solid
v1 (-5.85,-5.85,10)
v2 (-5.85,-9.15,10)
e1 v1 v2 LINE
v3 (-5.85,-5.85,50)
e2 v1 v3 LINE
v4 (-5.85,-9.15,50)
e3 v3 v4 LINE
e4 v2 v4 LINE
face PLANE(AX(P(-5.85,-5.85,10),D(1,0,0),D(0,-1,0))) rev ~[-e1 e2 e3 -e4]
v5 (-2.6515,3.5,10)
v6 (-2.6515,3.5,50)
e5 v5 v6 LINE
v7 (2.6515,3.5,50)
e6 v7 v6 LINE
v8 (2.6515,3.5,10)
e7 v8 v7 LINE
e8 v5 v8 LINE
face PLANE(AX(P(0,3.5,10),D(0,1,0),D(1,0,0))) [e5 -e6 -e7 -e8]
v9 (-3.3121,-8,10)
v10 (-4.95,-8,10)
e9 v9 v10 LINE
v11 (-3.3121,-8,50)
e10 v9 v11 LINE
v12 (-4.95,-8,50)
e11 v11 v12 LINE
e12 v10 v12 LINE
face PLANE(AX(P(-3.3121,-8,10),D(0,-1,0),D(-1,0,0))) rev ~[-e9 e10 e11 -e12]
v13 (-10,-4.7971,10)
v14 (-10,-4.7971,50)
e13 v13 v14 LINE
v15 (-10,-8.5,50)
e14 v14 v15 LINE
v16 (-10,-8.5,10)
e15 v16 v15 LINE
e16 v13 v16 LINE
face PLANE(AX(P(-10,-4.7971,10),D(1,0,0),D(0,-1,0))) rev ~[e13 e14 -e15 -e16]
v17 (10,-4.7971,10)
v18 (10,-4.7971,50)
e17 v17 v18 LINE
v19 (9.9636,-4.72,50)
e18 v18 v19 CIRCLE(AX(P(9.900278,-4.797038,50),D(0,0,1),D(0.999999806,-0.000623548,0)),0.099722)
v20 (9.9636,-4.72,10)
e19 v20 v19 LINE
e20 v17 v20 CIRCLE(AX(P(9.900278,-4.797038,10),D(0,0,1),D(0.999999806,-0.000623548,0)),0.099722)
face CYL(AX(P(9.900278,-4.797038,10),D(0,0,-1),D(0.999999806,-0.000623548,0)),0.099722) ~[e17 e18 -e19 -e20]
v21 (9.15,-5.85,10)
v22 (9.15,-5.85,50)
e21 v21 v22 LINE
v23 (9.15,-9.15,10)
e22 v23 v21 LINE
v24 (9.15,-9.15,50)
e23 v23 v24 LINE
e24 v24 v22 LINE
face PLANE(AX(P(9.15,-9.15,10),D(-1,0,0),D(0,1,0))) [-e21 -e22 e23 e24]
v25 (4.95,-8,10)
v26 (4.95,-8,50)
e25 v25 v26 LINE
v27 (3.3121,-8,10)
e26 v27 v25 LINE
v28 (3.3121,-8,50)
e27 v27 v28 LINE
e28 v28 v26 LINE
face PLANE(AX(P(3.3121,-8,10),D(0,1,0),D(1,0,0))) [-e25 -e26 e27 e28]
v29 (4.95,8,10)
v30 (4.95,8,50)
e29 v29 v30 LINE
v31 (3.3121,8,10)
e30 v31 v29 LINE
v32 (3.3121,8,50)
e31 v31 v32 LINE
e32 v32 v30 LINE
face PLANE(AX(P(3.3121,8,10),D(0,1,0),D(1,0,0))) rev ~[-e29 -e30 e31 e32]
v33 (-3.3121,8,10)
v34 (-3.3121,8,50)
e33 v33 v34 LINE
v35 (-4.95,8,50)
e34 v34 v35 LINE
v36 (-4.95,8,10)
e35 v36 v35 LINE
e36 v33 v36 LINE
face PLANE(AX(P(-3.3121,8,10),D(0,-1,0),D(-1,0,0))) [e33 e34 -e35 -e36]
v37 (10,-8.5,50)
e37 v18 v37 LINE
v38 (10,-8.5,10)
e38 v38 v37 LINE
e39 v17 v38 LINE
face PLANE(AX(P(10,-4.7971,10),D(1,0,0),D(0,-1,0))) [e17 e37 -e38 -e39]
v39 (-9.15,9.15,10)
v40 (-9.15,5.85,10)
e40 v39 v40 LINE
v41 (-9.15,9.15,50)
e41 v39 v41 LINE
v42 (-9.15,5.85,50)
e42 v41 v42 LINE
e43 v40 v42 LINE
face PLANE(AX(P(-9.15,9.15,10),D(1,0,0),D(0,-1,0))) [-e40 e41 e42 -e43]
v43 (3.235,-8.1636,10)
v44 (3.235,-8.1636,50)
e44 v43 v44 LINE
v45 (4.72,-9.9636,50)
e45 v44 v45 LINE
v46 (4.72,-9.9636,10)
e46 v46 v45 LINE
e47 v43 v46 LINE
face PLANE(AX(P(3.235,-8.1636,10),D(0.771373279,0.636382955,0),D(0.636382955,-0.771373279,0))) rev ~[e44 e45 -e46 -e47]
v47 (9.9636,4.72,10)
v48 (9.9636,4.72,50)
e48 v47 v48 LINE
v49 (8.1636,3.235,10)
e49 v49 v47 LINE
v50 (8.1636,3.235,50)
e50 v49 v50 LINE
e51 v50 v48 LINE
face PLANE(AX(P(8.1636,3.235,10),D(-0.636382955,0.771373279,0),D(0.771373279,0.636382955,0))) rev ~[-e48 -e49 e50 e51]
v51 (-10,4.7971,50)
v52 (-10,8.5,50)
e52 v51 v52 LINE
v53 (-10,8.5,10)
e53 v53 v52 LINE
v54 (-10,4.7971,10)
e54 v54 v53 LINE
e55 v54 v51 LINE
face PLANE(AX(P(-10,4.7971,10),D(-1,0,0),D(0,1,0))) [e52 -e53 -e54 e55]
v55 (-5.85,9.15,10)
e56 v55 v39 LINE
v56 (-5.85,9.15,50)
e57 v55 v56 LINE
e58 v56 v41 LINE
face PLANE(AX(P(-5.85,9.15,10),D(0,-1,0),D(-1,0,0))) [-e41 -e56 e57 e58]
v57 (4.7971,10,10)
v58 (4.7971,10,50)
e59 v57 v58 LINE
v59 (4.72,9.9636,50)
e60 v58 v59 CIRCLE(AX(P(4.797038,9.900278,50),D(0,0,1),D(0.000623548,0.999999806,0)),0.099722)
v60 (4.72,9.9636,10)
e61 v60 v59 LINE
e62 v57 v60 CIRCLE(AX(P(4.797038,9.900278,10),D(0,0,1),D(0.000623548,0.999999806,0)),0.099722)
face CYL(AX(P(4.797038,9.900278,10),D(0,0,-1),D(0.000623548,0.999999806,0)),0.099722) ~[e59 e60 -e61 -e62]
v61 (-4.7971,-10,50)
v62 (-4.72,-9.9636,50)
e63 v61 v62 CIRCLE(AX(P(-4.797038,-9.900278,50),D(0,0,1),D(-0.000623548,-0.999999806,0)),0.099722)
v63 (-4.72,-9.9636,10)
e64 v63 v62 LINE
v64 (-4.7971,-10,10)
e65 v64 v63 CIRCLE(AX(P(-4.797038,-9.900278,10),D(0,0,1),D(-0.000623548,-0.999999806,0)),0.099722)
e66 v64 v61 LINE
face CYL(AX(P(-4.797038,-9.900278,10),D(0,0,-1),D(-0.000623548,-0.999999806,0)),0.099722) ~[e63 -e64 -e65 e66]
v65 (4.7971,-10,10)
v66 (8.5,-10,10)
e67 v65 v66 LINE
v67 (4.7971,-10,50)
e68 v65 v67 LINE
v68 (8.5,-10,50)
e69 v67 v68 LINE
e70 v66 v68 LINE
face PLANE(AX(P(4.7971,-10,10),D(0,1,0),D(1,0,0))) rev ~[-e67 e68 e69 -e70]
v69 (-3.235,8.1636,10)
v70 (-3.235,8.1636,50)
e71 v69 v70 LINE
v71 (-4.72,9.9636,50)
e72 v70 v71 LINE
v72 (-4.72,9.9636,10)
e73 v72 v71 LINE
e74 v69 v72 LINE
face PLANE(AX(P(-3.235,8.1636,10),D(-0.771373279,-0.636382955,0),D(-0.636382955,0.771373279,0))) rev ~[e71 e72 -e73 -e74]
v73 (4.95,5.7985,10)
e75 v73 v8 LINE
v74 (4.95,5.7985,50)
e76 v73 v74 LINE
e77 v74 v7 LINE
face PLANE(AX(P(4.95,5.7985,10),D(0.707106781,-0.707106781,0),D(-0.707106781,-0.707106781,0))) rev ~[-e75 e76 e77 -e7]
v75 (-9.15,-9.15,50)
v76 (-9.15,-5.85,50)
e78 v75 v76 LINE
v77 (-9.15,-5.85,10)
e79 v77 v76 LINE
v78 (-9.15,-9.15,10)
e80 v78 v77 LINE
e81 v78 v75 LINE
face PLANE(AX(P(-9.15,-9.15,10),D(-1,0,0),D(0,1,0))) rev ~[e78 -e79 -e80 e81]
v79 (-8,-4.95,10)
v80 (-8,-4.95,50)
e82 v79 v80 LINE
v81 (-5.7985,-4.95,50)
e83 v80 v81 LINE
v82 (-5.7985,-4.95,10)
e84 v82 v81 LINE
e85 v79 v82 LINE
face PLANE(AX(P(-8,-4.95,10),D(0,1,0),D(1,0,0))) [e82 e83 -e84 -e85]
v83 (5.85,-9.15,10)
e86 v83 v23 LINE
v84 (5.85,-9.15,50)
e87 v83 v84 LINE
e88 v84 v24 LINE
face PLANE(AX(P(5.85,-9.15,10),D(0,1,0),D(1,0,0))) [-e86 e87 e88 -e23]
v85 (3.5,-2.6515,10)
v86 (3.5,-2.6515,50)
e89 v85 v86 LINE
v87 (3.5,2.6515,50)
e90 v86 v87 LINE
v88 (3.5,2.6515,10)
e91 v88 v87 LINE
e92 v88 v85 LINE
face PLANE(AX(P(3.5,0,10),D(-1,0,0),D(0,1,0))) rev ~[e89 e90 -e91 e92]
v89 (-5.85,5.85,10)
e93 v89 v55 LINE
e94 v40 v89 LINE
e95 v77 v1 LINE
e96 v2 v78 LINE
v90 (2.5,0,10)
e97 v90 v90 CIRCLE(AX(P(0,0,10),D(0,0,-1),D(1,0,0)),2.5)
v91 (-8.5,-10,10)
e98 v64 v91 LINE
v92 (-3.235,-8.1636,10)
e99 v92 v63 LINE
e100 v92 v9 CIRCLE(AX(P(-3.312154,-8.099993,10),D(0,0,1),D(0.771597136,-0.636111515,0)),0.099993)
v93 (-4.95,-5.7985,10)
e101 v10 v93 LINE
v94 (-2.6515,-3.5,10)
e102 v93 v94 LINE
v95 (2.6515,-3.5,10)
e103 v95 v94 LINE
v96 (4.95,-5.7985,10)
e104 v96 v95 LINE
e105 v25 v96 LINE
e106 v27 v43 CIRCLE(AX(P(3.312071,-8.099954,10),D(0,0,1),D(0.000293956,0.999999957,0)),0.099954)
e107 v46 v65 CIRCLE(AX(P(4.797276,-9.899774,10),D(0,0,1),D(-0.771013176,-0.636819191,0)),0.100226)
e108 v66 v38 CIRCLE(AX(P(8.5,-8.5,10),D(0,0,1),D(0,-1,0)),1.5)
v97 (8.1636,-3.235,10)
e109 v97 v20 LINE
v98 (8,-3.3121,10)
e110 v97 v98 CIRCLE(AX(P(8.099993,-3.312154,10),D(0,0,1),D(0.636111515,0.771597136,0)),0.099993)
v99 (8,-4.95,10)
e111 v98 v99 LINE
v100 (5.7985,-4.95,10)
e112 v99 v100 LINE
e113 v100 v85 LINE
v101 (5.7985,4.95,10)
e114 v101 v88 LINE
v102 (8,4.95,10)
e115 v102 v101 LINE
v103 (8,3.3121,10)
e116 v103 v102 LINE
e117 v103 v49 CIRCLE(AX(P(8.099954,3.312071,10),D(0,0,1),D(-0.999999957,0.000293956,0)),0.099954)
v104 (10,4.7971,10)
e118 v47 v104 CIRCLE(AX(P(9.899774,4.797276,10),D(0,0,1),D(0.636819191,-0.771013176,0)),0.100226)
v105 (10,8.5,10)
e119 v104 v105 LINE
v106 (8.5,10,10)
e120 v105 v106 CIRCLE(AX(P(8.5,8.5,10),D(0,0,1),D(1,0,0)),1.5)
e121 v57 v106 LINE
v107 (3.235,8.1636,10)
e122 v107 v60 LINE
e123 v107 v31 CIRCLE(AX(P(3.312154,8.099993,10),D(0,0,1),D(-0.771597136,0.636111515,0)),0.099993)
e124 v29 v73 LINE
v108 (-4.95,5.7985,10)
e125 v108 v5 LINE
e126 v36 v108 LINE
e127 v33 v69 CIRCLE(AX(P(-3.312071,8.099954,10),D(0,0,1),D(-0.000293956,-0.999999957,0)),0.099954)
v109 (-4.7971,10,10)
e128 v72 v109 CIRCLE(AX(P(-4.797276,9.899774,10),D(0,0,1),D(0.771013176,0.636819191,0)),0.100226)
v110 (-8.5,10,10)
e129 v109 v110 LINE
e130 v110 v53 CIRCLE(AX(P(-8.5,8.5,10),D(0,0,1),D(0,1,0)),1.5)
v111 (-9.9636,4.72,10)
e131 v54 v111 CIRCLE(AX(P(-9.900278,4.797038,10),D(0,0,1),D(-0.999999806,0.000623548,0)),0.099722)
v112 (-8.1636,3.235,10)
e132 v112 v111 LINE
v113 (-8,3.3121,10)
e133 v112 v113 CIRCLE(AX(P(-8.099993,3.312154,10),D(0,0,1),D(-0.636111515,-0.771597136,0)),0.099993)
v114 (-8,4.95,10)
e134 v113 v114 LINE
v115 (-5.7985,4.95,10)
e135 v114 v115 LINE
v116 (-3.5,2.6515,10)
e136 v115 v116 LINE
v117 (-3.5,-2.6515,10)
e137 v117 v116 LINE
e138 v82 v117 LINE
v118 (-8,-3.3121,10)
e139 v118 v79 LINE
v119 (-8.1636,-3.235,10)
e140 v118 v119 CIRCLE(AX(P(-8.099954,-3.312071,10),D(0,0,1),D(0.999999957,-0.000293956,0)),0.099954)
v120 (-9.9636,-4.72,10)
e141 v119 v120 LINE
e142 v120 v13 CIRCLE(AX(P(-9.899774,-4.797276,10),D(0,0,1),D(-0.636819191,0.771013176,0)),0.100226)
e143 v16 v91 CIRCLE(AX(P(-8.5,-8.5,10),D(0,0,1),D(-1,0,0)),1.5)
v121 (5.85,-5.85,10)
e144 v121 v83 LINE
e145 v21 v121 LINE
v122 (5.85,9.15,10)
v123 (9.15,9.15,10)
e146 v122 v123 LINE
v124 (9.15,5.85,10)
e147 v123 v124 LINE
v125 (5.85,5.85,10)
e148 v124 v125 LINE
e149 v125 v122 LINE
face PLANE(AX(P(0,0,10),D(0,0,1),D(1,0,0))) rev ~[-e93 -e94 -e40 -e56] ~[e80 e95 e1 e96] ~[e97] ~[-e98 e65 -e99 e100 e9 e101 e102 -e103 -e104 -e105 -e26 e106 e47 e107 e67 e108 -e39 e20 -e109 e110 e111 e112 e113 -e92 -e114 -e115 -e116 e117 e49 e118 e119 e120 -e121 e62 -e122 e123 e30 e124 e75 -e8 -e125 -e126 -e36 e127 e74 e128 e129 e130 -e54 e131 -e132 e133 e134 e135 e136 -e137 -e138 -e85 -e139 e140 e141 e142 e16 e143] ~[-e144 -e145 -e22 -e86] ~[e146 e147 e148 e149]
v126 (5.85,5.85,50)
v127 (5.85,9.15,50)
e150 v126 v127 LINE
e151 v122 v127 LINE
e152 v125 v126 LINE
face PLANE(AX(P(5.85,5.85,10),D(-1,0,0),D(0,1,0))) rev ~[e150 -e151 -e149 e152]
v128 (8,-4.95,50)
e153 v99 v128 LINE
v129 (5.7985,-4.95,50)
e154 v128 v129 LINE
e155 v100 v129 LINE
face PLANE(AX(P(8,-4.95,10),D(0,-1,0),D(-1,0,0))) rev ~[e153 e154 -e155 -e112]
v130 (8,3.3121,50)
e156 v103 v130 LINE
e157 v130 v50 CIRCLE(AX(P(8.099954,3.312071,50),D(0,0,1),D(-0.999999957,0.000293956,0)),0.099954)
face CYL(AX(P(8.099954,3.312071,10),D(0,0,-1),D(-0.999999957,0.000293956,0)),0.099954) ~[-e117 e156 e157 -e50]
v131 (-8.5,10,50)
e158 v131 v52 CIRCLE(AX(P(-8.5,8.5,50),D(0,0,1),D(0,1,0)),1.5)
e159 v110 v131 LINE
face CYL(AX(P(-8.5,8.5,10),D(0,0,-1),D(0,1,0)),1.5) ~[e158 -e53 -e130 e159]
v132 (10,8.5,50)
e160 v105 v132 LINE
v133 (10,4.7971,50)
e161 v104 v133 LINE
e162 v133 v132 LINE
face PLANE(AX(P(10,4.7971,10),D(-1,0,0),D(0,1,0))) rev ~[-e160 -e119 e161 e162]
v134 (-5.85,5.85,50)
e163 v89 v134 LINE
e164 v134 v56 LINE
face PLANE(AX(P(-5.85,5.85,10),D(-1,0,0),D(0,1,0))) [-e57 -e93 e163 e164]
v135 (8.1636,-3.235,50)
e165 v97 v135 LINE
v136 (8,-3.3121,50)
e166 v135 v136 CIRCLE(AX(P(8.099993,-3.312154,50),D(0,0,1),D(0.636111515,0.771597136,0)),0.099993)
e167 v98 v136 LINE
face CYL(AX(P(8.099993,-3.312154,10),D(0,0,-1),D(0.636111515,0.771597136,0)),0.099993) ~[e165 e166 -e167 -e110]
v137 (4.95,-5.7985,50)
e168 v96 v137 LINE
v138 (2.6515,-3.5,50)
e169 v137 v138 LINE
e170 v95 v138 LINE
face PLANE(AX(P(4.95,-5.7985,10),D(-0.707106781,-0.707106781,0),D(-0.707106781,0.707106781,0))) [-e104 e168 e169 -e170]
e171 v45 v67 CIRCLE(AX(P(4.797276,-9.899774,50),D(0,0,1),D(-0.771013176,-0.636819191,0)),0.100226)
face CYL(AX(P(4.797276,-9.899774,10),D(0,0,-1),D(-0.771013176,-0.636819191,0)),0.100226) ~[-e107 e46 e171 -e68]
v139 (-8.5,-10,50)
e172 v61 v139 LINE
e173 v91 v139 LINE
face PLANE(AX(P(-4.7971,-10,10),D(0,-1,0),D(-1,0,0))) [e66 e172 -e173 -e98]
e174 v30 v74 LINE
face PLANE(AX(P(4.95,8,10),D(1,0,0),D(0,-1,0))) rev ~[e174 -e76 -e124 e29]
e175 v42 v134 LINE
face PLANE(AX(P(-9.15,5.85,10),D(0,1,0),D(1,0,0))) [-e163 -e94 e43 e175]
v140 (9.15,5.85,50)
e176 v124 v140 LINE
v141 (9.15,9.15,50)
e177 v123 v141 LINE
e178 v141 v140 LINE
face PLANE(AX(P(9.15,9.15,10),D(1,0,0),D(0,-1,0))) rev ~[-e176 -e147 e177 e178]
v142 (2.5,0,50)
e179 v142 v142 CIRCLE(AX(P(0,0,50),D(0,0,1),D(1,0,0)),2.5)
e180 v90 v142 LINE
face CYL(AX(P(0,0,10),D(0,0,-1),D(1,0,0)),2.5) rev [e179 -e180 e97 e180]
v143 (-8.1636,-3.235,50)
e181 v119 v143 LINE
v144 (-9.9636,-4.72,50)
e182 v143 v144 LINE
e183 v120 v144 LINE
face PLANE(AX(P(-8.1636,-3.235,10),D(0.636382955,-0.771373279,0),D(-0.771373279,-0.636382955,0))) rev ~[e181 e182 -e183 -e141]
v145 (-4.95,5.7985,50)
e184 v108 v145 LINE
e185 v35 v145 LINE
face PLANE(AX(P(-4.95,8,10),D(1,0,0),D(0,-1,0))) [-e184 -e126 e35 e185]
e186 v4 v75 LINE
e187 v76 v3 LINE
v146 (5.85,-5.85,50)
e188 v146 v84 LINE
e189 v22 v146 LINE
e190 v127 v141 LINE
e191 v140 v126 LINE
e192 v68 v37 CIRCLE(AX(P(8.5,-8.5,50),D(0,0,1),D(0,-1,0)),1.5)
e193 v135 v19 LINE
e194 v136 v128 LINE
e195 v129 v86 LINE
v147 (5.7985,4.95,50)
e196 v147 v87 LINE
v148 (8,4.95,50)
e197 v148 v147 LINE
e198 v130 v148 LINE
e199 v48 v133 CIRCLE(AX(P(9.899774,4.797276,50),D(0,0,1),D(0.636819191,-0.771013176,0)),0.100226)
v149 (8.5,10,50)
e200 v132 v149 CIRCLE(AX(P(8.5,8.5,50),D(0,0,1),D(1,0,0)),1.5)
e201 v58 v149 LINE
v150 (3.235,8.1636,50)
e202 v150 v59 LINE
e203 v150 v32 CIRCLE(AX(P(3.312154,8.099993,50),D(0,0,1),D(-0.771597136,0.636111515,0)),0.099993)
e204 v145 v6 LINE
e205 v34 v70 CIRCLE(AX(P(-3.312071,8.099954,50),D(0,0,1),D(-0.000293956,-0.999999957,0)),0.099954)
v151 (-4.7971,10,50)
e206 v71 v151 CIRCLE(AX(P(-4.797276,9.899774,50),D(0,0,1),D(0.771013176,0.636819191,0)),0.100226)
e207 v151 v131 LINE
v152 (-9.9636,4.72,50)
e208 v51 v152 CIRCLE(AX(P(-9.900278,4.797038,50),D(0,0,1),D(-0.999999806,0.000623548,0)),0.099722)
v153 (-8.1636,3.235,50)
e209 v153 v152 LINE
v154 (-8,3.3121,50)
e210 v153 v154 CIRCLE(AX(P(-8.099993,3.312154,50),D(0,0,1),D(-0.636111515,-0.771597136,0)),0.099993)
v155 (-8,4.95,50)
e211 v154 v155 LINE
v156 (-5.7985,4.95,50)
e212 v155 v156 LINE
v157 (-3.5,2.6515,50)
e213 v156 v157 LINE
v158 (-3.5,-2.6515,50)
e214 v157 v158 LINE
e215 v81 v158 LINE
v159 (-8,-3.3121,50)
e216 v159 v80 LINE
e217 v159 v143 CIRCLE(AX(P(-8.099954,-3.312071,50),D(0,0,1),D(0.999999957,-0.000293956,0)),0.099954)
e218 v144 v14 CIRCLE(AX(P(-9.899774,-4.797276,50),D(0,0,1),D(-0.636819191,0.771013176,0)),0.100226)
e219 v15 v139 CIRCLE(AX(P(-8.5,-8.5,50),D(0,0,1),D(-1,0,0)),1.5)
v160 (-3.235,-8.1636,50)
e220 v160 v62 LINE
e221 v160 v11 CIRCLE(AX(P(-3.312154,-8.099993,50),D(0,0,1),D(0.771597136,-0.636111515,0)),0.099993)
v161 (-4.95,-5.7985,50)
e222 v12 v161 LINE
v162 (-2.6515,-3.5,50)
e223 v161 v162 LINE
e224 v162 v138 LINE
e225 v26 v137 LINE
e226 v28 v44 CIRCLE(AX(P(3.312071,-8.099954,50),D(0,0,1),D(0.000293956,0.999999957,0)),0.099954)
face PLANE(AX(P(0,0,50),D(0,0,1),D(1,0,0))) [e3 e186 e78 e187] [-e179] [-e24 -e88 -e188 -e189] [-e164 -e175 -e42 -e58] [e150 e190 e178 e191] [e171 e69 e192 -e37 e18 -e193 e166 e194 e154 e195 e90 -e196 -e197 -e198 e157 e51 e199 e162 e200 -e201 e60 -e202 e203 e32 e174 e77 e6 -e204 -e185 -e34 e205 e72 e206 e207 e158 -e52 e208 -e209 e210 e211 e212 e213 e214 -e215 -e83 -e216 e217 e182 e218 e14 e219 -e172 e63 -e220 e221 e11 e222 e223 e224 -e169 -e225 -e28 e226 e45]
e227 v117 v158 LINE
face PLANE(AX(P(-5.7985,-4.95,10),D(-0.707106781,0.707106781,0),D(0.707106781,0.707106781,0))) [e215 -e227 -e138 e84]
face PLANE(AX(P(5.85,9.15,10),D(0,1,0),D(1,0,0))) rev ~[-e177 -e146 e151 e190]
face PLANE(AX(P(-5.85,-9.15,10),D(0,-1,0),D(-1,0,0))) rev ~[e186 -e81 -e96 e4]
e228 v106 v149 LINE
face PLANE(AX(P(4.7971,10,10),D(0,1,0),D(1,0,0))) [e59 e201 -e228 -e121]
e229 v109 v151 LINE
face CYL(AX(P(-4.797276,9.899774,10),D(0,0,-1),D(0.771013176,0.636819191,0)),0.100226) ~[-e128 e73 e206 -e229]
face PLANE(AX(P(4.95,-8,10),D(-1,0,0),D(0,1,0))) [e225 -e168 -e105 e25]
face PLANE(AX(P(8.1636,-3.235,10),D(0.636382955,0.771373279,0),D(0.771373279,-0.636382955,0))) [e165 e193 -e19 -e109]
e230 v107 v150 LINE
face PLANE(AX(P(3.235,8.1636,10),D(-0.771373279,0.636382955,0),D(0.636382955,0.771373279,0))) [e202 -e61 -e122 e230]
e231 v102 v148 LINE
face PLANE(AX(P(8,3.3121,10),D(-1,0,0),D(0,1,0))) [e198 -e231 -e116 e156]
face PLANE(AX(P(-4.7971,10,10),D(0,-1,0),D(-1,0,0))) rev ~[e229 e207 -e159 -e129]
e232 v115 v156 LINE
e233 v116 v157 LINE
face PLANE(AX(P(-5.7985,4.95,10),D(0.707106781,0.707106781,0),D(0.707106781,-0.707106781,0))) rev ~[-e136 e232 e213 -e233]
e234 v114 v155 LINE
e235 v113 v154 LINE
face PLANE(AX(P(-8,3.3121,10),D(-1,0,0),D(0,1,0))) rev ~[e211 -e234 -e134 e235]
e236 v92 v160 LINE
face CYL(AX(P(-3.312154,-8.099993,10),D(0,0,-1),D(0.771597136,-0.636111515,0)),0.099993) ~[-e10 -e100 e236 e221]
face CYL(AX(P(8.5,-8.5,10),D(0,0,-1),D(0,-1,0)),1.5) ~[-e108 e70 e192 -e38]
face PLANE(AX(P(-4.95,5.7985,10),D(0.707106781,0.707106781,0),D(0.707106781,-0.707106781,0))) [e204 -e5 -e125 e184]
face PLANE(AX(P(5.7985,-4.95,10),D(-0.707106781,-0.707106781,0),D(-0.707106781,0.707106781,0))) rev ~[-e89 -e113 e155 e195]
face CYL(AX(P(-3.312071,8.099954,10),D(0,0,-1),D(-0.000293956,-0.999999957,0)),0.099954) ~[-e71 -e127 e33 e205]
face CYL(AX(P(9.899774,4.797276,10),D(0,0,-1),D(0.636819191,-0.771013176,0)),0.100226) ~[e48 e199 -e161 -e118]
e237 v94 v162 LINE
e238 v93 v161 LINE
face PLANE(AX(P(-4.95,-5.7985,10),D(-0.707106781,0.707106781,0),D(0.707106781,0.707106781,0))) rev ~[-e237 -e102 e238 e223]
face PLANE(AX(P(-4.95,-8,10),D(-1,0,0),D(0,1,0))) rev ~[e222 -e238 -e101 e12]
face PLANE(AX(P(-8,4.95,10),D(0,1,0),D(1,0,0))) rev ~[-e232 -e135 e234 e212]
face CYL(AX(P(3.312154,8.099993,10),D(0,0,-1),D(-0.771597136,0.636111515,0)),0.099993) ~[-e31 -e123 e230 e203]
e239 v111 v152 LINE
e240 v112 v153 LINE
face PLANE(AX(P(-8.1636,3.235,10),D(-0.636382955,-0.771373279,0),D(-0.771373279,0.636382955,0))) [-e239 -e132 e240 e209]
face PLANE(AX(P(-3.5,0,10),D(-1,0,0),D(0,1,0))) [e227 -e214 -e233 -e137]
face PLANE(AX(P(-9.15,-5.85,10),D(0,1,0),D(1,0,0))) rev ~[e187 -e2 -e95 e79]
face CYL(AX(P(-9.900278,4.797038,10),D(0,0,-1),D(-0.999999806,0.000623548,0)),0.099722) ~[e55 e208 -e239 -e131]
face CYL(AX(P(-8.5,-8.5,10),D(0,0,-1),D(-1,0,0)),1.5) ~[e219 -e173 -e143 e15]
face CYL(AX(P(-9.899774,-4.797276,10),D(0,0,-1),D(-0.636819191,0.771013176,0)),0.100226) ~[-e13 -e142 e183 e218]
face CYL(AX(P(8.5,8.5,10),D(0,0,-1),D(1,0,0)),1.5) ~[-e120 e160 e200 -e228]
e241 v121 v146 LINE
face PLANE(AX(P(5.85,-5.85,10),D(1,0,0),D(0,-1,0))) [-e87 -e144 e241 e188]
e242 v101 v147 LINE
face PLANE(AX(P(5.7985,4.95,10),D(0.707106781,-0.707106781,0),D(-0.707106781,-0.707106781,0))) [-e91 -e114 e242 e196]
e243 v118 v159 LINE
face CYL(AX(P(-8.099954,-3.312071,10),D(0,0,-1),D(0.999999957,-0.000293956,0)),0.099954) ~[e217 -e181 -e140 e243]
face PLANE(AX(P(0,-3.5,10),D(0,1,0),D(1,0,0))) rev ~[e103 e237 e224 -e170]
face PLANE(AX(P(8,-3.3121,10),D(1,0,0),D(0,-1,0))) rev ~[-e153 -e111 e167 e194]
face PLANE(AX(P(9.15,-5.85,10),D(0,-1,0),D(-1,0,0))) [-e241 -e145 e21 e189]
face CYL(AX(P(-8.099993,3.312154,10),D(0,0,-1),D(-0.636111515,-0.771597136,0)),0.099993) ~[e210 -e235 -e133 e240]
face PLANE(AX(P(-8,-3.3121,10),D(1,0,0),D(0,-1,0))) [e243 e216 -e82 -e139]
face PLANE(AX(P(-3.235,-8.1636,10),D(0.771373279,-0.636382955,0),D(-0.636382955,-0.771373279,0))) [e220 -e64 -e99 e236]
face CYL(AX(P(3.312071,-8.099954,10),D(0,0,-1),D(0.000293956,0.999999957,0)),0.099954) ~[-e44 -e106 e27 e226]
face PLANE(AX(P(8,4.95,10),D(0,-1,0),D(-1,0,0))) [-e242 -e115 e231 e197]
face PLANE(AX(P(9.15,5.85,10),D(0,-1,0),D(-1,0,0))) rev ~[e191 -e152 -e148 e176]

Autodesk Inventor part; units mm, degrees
ref_plane "Начальная плоскость" through (0, 0, 10) normal (0, 0, 1) x (1, 0, 0)
ref_plane "Конечная плоскость" through (0, 0, 50) normal (0, 0, 1) x (1, 0, 0)
sketch "Эскиз" plane through (0, 0, 0) normal (0, 0, 1) x (1, 0, 0)
  line L0 (-14.4349, 0) -> (14.4349, 0) projected
  line L1 (0, -14) -> (0, 14) projected
  line L2 (0, 0) -> (7.5, 7.5) construction
  circle A0 centre (7.5, 7.5) radius 1.65 construction
  line L3 (5.85, 9.15) -> (9.15, 9.15)
  line L4 (9.15, 9.15) -> (9.15, 5.85)
  line L5 (9.15, 5.85) -> (5.85, 5.85)
  line L6 (5.85, 5.85) -> (5.85, 9.15)
  line L7 (3.235, 8.1636) -> (4.72, 9.9636)
  line L8 (4.7971, 10) -> (8.5, 10)
  line L9 (3.3121, 8) -> (4.95, 8)
  line L10 (4.95, 8) -> (4.95, 5.7985)
  line L11 (4.95, 5.7985) -> (2.6515, 3.5)
  line L12 (0, 3.5) -> (2.6515, 3.5)
  circle A1 centre (0, 0) radius 2.5
  line L13 (8.1636, 3.235) -> (9.9636, 4.72)
  line L14 (10, 4.7971) -> (10, 8.5)
  line L15 (8, 3.3121) -> (8, 4.95)
  line L16 (8, 4.95) -> (5.7985, 4.95)
  line L17 (5.7985, 4.95) -> (3.5, 2.6515)
  line L18 (3.5, 0) -> (3.5, 2.6515)
  arc A2 (10, 8.5) -> (8.5, 10) centre (8.5, 8.5) ccw
  line L19 (0, 0) -> (-7.5, 7.5) construction
  circle A3 centre (-7.5, 7.5) radius 1.65 construction
  line L20 (-5.85, 9.15) -> (-9.15, 9.15)
  line L21 (-9.15, 9.15) -> (-9.15, 5.85)
  line L22 (-9.15, 5.85) -> (-5.85, 5.85)
  line L23 (-5.85, 5.85) -> (-5.85, 9.15)
  line L24 (-3.235, 8.1636) -> (-4.72, 9.9636)
  line L25 (-4.7971, 10) -> (-8.5, 10)
  line L26 (-3.3121, 8) -> (-4.95, 8)
  line L27 (-4.95, 8) -> (-4.95, 5.7985)
  line L28 (-4.95, 5.7985) -> (-2.6515, 3.5)
  line L29 (0, 3.5) -> (-2.6515, 3.5)
  line L30 (-3.5, 0) -> (-3.5, 2.6515)
  line L31 (-5.7985, 4.95) -> (-3.5, 2.6515)
  line L32 (-8, 4.95) -> (-5.7985, 4.95)
  line L33 (-8, 3.3121) -> (-8, 4.95)
  line L34 (-8.1636, 3.235) -> (-9.9636, 4.72)
  line L35 (-10, 4.7971) -> (-10, 8.5)
  arc A4 (-8.5, 10) -> (-10, 8.5) centre (-8.5, 8.5) ccw
  line L36 (0, 14) -> (0, -14)
  line L37 (0, 0) -> (7.5, -7.5) construction
  circle A5 centre (7.5, -7.5) radius 1.65 construction
  line L38 (5.85, -9.15) -> (9.15, -9.15)
  line L39 (9.15, -9.15) -> (9.15, -5.85)
  line L40 (9.15, -5.85) -> (5.85, -5.85)
  line L41 (5.85, -5.85) -> (5.85, -9.15)
  line L42 (3.235, -8.1636) -> (4.72, -9.9636)
  line L43 (4.7971, -10) -> (8.5, -10)
  line L44 (3.3121, -8) -> (4.95, -8)
  line L45 (4.95, -8) -> (4.95, -5.7985)
  line L46 (4.95, -5.7985) -> (2.6515, -3.5)
  line L47 (0, -3.5) -> (2.6515, -3.5)
  line L48 (3.5, 0) -> (3.5, -2.6515)
  line L49 (5.7985, -4.95) -> (3.5, -2.6515)
  line L50 (8, -4.95) -> (5.7985, -4.95)
  line L51 (8, -3.3121) -> (8, -4.95)
  line L52 (8.1636, -3.235) -> (9.9636, -4.72)
  line L53 (10, -4.7971) -> (10, -8.5)
  arc A6 (8.5, -10) -> (10, -8.5) centre (8.5, -8.5) ccw
  line L54 (0, 0) -> (-7.5, -7.5) construction
  line L55 (-4.95, -8) -> (-4.95, -5.7985)
  line L56 (-3.3121, -8) -> (-4.95, -8)
  line L57 (-5.7985, -4.95) -> (-3.5, -2.6515)
  line L58 (-4.95, -5.7985) -> (-2.6515, -3.5)
  line L59 (-3.5, 0) -> (-3.5, -2.6515)
  line L60 (0, -3.5) -> (-2.6515, -3.5)
  circle A7 centre (-7.5, -7.5) radius 1.65 construction
  line L61 (-5.85, -5.85) -> (-5.85, -9.15)
  line L62 (-5.85, -9.15) -> (-9.15, -9.15)
  line L63 (-9.15, -9.15) -> (-9.15, -5.85)
  line L64 (-9.15, -5.85) -> (-5.85, -5.85)
  line L65 (-3.235, -8.1636) -> (-4.72, -9.9636)
  line L66 (-8, -4.95) -> (-5.7985, -4.95)
  line L67 (-8, -3.3121) -> (-8, -4.95)
  line L68 (-8.1636, -3.235) -> (-9.9636, -4.72)
  line L69 (-4.7971, -10) -> (-8.5, -10)
  line L70 (-10, -4.7971) -> (-10, -8.5)
  arc A8 (-10, -8.5) -> (-8.5, -10) centre (-8.5, -8.5) ccw
  arc A9 (3.235, 8.1636) -> (3.3121, 8) centre (3.3121, 8.1) ccw
  arc A10 (4.7971, 10) -> (4.72, 9.9636) centre (4.7971, 9.9) ccw
  arc A11 (8, 3.3121) -> (8.1636, 3.235) centre (8.1, 3.3121) ccw
  arc A12 (9.9636, 4.72) -> (10, 4.7971) centre (9.9, 4.7971) ccw
  arc A13 (-3.3121, 8) -> (-3.235, 8.1636) centre (-3.3121, 8.1) ccw
  arc A14 (-4.72, 9.9636) -> (-4.7971, 10) centre (-4.7971, 9.9) ccw
  arc A15 (-8.1636, 3.235) -> (-8, 3.3121) centre (-8.1, 3.3121) ccw
  arc A16 (-10, 4.7971) -> (-9.9636, 4.72) centre (-9.9, 4.7971) ccw
  arc A17 (-8, -3.3121) -> (-8.1636, -3.235) centre (-8.1, -3.3121) ccw
  arc A18 (-9.9636, -4.72) -> (-10, -4.7971) centre (-9.9, -4.7971) ccw
  arc A19 (-3.235, -8.1636) -> (-3.3121, -8) centre (-3.3121, -8.1) ccw
  arc A20 (-4.7971, -10) -> (-4.72, -9.9636) centre (-4.7971, -9.9) ccw
  arc A21 (4.72, -9.9636) -> (4.7971, -10) centre (4.7971, -9.9) ccw
  arc A22 (3.3121, -8) -> (3.235, -8.1636) centre (3.3121, -8.1) ccw
  arc A23 (8.1636, -3.235) -> (8, -3.3121) centre (8.1, -3.3121) ccw
  arc A24 (10, -4.7971) -> (9.9636, -4.72) centre (9.9, -4.7971) ccw
  point P0 (3.1, 8)
  point P1 (4.75, 10)
  point P2 (7.5, 9.15)
  point P3 (8, 3.1)
  point P4 (10, 4.75)
  point P5 (7.5, 5.85)
  point P6 (9.15, 7.5)
  point P7 (-3.1, 8)
  point P8 (-4.75, 10)
  point P9 (-7.5, 9.15)
  point P10 (-8, 3.1)
  point P11 (-10, 4.75)
  point P12 (-7.5, 5.85)
  point P13 (-9.15, 7.5)
  point P14 (3.1, -8)
  point P15 (4.75, -10)
  point P16 (7.5, -9.15)
  point P17 (8, -3.1)
  point P18 (10, -4.75)
  point P19 (7.5, -5.85)
  point P20 (9.15, -7.5)
  point P21 (-3.1, -8)
  point P22 (-7.5, -5.85)
  point P23 (-7.5, -9.15)
  point P24 (-9.15, -7.5)
  point P25 (-4.75, -10)
  point P26 (-8, -3.1)
  point P27 (-10, -4.75)
  dimension "d0" = 45
  dimension "d1" = 3.3
  dimension "d2" = 1.5
  dimension "d3" = 1.2
  dimension "d4" = 5
  dimension "d5" = 6.5
  dimension "d6" = 15
  dimension "d7" = 20
  dimension "d8" = 9.9
  dimension "d9" = 9.5
  dimension "d10" = 6.2
  dimension "d11" = 2
  dimension "d18" = 0.1
  dimension "d19" = 0.1
extrude "Тело" add sketch "Эскиз" along normal up to surface (40 mm away) from surface at 10 contours A1 L1 L12 L11 L10 L9 A9 L7 A10 L8 A2 L14 A12 L13 A11 L15 L16 L17 L18 L0 | L0 L48 L49 L50 L51 A23 L52 A24 L53 A6 L43 A21 L42 A22 L44 L45 L46 L47 L1 A1 | A1 L0 L30 L31 L32 L33 A15 L34 A16 L35 A4 L25 A14 L24 A13 L26 L27 L28 L29 L1 | L1 L60 L58 L55 L56 A19 L65 A20 L69 A8 L70 A18 L68 A17 L67 L66 L57 L59 L0 A1
sketch "Эскиз2" plane through (0, 0, 0) normal (0, 0, 1) x (1, 0, 0)
  line L0 (0, 0) -> (10, 0)
ref_plane "РабПлоскость3" through (0, 0, 0) normal (0, -1, 0) x (1, 0, 0)
sketch "Эскиз3" plane through (0, 0, 0) normal (0, -1, 0) x (1, 0, 0)
  line L0 (-2, 10) -> (12, 10)
  line L1 (-2, 50) -> (12, 50)
  dimension "d25" = 40
ref_plane "РабПлоскость4" through (-315.2029, -255, 10) normal (0, 0, -1) x (-1, 0, 0)
split "Разделение1" plane through (-315.2029, -255, 10) removes the side toward (0, 0, -1)
ref_plane "РабПлоскость5" through (-8.5, 255, 50) normal (0, 0, 1) x (1, 0, 0)
split "Разделение2" plane through (-8.5, 255, 50) removes the side toward (0, 0, 1)
properties part number "короткая палка"
